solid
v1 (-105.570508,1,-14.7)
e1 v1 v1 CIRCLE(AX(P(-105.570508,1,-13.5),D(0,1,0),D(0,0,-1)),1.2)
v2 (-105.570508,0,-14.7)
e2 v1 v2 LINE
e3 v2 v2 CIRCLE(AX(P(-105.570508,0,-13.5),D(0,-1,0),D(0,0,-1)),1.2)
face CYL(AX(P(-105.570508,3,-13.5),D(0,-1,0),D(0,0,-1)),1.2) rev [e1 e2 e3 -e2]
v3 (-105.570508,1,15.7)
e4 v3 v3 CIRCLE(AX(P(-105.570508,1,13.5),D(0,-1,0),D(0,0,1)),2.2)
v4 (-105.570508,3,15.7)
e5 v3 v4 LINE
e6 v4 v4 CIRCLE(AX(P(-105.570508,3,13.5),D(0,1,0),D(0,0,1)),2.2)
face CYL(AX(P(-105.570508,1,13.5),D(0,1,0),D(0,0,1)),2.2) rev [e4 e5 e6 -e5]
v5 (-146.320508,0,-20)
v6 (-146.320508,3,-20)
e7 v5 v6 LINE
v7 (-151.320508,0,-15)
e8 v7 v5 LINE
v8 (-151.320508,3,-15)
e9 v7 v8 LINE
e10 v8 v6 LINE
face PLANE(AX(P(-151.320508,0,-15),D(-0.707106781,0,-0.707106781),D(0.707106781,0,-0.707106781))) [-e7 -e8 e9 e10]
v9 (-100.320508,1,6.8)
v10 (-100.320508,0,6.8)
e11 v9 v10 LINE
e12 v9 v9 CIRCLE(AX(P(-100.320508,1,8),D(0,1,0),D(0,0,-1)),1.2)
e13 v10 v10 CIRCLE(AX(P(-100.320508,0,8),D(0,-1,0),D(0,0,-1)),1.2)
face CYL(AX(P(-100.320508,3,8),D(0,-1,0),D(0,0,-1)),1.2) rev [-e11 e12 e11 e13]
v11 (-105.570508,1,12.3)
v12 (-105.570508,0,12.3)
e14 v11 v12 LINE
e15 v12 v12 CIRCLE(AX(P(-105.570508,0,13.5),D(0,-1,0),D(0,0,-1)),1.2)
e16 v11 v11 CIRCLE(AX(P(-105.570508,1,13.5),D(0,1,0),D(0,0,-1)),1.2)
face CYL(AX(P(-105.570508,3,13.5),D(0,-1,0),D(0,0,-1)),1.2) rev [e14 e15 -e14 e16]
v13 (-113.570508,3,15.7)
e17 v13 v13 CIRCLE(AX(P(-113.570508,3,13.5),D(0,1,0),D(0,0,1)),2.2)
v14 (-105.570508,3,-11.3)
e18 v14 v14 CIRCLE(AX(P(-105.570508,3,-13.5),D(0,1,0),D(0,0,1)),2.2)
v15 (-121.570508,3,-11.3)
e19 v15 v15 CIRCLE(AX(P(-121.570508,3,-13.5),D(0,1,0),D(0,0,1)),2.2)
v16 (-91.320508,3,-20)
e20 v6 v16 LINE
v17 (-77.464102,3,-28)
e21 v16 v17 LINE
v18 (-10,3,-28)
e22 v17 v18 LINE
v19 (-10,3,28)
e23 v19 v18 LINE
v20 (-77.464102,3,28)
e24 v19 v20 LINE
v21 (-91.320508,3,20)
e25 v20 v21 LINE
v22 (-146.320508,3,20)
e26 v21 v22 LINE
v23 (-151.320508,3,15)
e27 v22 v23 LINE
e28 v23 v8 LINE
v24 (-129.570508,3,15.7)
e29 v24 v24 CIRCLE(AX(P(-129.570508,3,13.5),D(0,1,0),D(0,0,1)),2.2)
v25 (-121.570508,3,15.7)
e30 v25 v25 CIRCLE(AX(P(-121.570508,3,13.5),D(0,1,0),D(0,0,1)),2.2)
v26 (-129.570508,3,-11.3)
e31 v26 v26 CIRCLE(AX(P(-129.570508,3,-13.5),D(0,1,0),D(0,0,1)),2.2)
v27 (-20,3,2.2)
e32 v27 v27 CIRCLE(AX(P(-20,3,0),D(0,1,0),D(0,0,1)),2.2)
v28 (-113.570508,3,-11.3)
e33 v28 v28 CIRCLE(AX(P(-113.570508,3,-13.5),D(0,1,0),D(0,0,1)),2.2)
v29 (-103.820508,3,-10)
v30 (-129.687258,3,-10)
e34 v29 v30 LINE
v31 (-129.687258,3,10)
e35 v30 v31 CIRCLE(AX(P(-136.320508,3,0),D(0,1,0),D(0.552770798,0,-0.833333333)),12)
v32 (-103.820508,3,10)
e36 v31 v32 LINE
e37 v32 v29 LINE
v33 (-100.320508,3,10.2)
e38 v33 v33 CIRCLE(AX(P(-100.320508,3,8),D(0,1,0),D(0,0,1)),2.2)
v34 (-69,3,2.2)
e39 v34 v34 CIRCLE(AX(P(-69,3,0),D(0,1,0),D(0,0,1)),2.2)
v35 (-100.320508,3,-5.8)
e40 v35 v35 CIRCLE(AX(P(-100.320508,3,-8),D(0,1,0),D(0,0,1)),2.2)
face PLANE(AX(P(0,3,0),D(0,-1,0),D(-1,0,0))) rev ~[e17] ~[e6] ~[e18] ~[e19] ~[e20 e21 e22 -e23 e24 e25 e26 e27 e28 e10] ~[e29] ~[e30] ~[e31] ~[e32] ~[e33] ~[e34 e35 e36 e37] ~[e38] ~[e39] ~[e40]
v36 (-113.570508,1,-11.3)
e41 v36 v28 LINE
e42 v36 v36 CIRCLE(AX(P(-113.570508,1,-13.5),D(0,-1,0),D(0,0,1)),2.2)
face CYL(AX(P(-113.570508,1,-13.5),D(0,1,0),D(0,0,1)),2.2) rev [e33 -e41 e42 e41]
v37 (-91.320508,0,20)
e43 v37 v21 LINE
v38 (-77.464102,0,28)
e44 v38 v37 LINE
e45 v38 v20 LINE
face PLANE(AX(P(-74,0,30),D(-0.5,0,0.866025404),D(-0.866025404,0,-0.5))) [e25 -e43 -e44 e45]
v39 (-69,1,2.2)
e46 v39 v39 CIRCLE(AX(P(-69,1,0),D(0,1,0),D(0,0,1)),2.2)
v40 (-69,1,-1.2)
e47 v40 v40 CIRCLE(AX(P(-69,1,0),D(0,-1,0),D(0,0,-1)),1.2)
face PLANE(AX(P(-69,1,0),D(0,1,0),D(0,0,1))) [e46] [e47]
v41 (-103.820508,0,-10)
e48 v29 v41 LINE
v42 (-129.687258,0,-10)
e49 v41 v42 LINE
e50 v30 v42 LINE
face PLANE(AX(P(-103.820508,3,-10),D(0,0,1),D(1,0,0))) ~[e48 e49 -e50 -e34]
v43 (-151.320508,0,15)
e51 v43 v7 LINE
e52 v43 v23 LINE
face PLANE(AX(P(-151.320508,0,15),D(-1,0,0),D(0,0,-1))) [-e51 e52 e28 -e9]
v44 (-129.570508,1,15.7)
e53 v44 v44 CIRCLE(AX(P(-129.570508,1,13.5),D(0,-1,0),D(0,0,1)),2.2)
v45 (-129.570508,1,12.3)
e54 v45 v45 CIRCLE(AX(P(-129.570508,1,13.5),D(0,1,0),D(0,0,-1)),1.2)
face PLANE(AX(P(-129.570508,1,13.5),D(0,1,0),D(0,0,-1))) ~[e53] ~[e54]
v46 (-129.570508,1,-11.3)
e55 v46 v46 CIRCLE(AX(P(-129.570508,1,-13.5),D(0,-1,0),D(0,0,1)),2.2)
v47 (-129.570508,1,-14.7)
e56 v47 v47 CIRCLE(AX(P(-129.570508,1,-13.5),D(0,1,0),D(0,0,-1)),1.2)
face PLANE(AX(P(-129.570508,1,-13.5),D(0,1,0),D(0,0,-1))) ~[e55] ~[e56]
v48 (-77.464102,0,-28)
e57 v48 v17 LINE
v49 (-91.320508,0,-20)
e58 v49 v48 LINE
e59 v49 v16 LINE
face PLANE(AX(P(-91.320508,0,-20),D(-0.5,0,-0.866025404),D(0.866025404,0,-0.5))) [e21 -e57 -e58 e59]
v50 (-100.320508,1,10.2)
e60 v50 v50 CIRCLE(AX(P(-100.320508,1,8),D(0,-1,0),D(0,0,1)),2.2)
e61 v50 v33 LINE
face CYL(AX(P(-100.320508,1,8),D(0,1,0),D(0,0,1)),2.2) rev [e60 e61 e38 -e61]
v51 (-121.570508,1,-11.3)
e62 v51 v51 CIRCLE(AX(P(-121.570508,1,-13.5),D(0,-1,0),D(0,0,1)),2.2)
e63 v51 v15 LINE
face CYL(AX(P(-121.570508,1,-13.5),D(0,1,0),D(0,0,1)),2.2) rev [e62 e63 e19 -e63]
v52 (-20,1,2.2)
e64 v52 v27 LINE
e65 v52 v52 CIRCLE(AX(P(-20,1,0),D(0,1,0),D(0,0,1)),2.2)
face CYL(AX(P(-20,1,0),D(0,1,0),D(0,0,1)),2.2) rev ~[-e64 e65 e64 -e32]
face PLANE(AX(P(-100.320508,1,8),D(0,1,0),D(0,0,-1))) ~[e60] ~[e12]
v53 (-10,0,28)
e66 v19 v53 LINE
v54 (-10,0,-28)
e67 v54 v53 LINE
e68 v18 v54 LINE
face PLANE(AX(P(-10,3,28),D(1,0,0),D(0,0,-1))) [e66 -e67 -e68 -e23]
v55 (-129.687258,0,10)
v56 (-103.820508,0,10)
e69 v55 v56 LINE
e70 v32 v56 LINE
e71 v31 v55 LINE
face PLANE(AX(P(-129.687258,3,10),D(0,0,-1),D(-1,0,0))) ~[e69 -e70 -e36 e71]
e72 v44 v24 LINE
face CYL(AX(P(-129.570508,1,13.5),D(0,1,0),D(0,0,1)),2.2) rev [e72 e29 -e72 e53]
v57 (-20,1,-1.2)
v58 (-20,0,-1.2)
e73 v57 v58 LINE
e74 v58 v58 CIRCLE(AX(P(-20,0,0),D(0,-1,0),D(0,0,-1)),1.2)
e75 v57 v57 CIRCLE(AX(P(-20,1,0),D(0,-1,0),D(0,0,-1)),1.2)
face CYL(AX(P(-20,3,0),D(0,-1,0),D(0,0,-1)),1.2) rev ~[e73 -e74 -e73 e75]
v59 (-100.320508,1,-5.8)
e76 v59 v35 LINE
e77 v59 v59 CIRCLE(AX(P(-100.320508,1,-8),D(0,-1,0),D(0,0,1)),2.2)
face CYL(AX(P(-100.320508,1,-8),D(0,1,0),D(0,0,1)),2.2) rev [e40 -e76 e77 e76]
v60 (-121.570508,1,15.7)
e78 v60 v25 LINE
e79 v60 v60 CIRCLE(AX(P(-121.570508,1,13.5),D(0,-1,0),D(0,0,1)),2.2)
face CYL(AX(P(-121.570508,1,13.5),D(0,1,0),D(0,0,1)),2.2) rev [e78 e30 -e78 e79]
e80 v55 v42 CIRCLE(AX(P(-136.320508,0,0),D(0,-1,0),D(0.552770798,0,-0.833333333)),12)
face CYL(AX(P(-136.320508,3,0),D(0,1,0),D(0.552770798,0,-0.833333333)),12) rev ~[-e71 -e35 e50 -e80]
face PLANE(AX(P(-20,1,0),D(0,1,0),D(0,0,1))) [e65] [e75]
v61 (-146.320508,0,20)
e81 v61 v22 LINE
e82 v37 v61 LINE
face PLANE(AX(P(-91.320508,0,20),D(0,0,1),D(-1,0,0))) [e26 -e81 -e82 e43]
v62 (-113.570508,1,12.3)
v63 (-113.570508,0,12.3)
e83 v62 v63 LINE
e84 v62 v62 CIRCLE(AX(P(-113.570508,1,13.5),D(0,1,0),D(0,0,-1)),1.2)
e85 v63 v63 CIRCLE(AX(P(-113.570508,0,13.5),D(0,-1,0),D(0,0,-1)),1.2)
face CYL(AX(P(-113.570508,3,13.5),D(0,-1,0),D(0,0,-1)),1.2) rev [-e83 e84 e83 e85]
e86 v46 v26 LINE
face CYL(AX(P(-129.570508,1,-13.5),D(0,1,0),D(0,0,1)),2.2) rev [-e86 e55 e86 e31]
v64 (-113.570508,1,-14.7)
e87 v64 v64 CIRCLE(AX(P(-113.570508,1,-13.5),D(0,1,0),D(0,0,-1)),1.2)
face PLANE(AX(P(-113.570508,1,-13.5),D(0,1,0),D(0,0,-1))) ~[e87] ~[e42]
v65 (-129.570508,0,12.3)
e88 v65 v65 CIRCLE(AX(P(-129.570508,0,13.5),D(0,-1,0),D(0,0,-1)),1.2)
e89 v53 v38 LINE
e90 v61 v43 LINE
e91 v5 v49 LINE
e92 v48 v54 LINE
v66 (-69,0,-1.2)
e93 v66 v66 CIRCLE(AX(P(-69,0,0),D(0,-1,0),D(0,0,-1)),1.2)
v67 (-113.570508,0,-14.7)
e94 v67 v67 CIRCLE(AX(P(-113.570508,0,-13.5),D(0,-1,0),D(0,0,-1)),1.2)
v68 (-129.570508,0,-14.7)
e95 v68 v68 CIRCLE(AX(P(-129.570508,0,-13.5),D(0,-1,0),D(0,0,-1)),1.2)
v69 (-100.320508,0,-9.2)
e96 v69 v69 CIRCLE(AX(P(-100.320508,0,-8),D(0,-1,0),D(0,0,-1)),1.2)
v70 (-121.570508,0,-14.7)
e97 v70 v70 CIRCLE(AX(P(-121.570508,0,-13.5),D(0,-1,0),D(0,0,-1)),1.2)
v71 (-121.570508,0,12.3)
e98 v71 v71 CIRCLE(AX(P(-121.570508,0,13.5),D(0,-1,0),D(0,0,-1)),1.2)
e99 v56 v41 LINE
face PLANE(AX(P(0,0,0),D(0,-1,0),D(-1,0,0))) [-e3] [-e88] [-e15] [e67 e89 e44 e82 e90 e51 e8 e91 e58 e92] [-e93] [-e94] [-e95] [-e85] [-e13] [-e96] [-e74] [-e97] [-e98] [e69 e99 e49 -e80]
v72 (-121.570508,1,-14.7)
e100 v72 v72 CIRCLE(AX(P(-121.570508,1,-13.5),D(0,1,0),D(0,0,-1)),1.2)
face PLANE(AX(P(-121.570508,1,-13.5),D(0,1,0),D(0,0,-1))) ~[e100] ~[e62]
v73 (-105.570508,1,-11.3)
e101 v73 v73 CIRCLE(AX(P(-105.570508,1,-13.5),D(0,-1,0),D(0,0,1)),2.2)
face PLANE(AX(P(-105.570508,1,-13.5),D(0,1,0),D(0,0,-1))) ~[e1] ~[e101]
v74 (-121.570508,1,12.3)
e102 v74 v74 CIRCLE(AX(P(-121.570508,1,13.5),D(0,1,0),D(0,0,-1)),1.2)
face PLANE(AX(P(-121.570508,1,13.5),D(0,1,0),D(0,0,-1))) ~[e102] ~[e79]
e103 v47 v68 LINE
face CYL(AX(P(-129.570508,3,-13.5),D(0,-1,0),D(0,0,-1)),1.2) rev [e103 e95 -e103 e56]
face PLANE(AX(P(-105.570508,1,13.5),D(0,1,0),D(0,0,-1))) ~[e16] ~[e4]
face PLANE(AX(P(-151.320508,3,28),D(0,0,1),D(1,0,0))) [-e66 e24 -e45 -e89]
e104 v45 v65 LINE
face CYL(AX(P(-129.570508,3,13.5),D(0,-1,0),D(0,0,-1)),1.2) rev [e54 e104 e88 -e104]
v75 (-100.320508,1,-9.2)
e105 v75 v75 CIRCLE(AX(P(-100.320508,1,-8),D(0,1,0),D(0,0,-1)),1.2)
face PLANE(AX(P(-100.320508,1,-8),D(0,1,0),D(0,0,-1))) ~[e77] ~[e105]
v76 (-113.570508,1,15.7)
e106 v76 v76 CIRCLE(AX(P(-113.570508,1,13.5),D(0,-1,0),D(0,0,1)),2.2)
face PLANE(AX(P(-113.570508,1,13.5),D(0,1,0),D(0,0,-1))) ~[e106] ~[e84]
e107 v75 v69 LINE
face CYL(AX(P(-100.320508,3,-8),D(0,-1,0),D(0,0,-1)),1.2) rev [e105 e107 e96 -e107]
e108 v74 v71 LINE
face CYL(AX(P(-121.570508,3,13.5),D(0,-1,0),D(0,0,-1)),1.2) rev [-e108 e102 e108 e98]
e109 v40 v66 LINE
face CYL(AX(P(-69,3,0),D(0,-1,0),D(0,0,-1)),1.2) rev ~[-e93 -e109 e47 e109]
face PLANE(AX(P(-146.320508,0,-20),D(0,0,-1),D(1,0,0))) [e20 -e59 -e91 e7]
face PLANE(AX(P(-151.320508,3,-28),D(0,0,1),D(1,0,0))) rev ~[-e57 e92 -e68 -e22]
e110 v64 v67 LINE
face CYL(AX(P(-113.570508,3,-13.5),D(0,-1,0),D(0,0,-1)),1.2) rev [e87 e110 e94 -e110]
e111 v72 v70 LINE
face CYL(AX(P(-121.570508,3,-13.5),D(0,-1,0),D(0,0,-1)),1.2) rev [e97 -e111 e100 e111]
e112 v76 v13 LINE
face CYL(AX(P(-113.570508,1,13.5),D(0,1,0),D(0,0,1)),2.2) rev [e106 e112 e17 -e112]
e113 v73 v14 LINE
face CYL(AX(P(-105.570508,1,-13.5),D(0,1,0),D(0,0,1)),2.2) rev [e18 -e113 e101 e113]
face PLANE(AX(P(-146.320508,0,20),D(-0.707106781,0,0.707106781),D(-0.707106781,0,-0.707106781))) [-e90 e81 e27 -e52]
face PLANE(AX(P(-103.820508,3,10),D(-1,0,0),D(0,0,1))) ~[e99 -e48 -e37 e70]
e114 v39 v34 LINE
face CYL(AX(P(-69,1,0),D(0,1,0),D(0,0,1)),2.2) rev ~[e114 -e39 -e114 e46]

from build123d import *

# Parameters (mm, degrees)
EXTRUDE_1_DEPTH              = 3
CUT_EXTRUDE_1_REACH          = 217.134
HOLE_WIZARD_M2_2_D           = 2.4
HOLE_WIZARD_M2_2_CBORE_D     = 4.4
HOLE_WIZARD_M2_2_CBORE_DEPTH = 2
CUT_EXTRUDE_2_REACH          = 217.134
HOLE_WIZARD_M2_3_D           = 2.4
HOLE_WIZARD_M2_3_CBORE_D     = 4.4
HOLE_WIZARD_M2_3_CBORE_DEPTH = 2
MIRROR_7_COPY_1_REACH        = 217.134
MIRROR_7_COPY_2_D            = 2.4
MIRROR_7_COPY_2_CBORE_D      = 4.4
MIRROR_7_COPY_2_CBORE_DEPTH  = 2
CUT_EXTRUDE_3_REACH          = 217.134
SKETCH_18_W                  = 20
SKETCH_18_H                  = 10
HOLE_WIZARD_M2_4_D           = 2.4
HOLE_WIZARD_M2_4_CBORE_D     = 4.4
HOLE_WIZARD_M2_4_CBORE_DEPTH = 2
HOLE_WIZARD_M2_5_D           = 2.4
HOLE_WIZARD_M2_5_CBORE_D     = 4.4
HOLE_WIZARD_M2_5_CBORE_DEPTH = 2
HOLE_WIZARD_M2_6_D           = 2.4
HOLE_WIZARD_M2_6_CBORE_D     = 4.4
HOLE_WIZARD_M2_6_CBORE_DEPTH = 2
SKETCH_24_W                  = 20
SKETCH_24_H                  = 56
CUT_EXTRUDE_4_DEPTH          = 10
HOLE_WIZARD_M2_7_D           = 2.4
HOLE_WIZARD_M2_7_CBORE_D     = 4.4
HOLE_WIZARD_M2_7_CBORE_DEPTH = 2
SKETCH_26_OUTSIDE_W          = 390.69
SKETCH_26_OUTSIDE_H          = 393.83
SKETCH_26_OUTSIDE_W_2        = 151.320508076
SKETCH_26_OUTSIDE_H_2        = 56
CUT_EXTRUDE_6_DEPTH          = 10


with BuildPart() as part:
    # 草图1 → 凸台-拉伸1 (new body)
    with BuildSketch(Plane(origin=(0, 0, 0), x_dir=(1, 0, 0), z_dir=(0, 1, 0))):
        Polygon((-45.715728753, 114), (45.715728753, 114), (84.606601718, 152.890872965), (91.67766953, 152.890872965), (112.890872965, 131.67766953), (112.890872965, 124.606601718), (74, 85.715728753), (74, 30), (91.320508076, 20), (146.320508076, 20), (151.320508076, 15), (151.320508076, -15), (146.320508076, -20), (91.320508076, -20), (74, -30), (74, -85.715728753), (112.890872965, -124.606601718), (112.890872965, -131.67766953), (91.67766953, -152.890872965), (84.606601718, -152.890872965), (45.715728753, -114), (-45.715728753, -114), (-84.606601718, -152.890872965), (-91.67766953, -152.890872965), (-112.890872965, -131.67766953), (-112.890872965, -124.606601718), (-74, -85.715728753), (-74, -30), (-91.320508076, -20), (-146.320508076, -20), (-151.320508076, -15), (-151.320508076, 15), (-146.320508076, 20), (-91.320508076, 20), (-74, 30), (-74, 85.715728753), (-112.890872965, 124.606601718), (-112.890872965, 131.67766953), (-91.67766953, 152.890872965), (-84.606601718, 152.890872965), align=None)
    extrude(amount=EXTRUDE_1_DEPTH)

    # 草图2 → 切除-拉伸1 (cut, up to next)
    with BuildSketch(Plane(origin=(0, 3, 0), x_dir=(1, 0, 0), z_dir=(0, 1, 0)), mode=Mode.PRIVATE) as cut_extrude_1_sk1:
        with BuildLine():
            Line((103.820508076, -10), (103.820508076, 10))
            Line((103.820508076, 10), (129.687258495, 10))
            ThreePointArc((129.687258495, 10), (148.320508076, 0), (129.687258495, -10))
            Line((129.687258495, -10), (103.820508076, -10))
        make_face()
    cut_extrude_1_tool1 = extrude(cut_extrude_1_sk1.sketch, amount=-CUT_EXTRUDE_1_REACH, mode=Mode.PRIVATE) & part.part
    cut_extrude_1 = cut_extrude_1_tool1.solids().sort_by_distance((125.74589, 3, 0))[0]
    add(cut_extrude_1, mode=Mode.SUBTRACT)

    # M2 凹头盖螺钉的柱形沉头孔2 (through all)
    with Locations(Plane(origin=(100.320508076, 3, -8), x_dir=(0, 0, 1), z_dir=(0, 1, 0))):
        with Locations((0, 0), (-5.5, 5.25), (-5.5, 13.25), (-5.5, 21.25), (-5.5, 29.25), (16, 0), (21.5, 5.25), (21.5, 13.25), (21.5, 21.25), (21.5, 29.25)):
            hole_wizard_m2_2 = CounterBoreHole(HOLE_WIZARD_M2_2_D / 2, HOLE_WIZARD_M2_2_CBORE_D / 2, HOLE_WIZARD_M2_2_CBORE_DEPTH)

    # 草图10 → 切除-拉伸2 (cut, up to next)
    with BuildSketch(Plane(origin=(0, 3, 0), x_dir=(1, 0, 0), z_dir=(0, 1, 0)), mode=Mode.PRIVATE) as cut_extrude_2_sk1:
        with BuildLine():
            Line((75.767766953, 101.625631329), (61.625631329, 115.767766953))
            Line((61.625631329, 115.767766953), (79.916185958, 134.058321582))
            ThreePointArc((79.916185958, 134.058321582), (100.162950904, 140.162950904), (94.058321582, 119.916185958))
            Line((94.058321582, 119.916185958), (75.767766953, 101.625631329))
        make_face()
    cut_extrude_2_tool1 = extrude(cut_extrude_2_sk1.sketch, amount=-CUT_EXTRUDE_2_REACH, mode=Mode.PRIVATE) & part.part
    cut_extrude_2 = cut_extrude_2_tool1.solids().sort_by_distance((84.200285, 3, -124.200285))[0]
    add(cut_extrude_2, mode=Mode.SUBTRACT)

    # M2 凹头盖螺钉的柱形沉头孔3 (through all)
    with Locations(Plane(origin=(60.388194462, 3, -119.480077554), x_dir=(0, 0, 1), z_dir=(0, 1, 0))):
        with Locations((0, 0), (-5.65685425, 5.65685425), (-11.313708499, 11.313708499), (-16.970562749, 16.970562749), (7.601397898, 0.176776695), (18.915106397, 11.490485194), (19.091883092, 19.091883092), (13.435028842, 24.748737342), (7.778174593, 30.405591591), (2.121320343, 36.062445841)):
            hole_wizard_m2_3 = CounterBoreHole(HOLE_WIZARD_M2_3_D / 2, HOLE_WIZARD_M2_3_CBORE_D / 2, HOLE_WIZARD_M2_3_CBORE_DEPTH)

    # 镜向5: 切除-拉伸1, M2 凹头盖螺钉的柱形沉头孔2 across plane
    add(cut_extrude_1.mirror(Plane(origin=(0, 0, 0), x_dir=(0, 0, 1), z_dir=(1, 0, 0))), mode=Mode.SUBTRACT)
    add(hole_wizard_m2_2.mirror(Plane(origin=(0, 0, 0), x_dir=(0, 0, 1), z_dir=(1, 0, 0))), mode=Mode.SUBTRACT)

    # 镜向6: 切除-拉伸2, M2 凹头盖螺钉的柱形沉头孔3 across plane
    add(cut_extrude_2.mirror(Plane(origin=(0, 0, 0), x_dir=(0, 0, 1), z_dir=(1, 0, 0))), mode=Mode.SUBTRACT)
    add(hole_wizard_m2_3.mirror(Plane(origin=(0, 0, 0), x_dir=(0, 0, 1), z_dir=(1, 0, 0))), mode=Mode.SUBTRACT)

    # 镜向7: 切除-拉伸2, M2 凹头盖螺钉的柱形沉头孔3 across plane
    add(cut_extrude_2.mirror(Plane.XY), mode=Mode.SUBTRACT)
    add(hole_wizard_m2_3.mirror(Plane.XY), mode=Mode.SUBTRACT)

    # 镜向7 copy 1 sketch → 镜向7 copy 1 (cut, up to next)
    with BuildSketch(Plane(origin=(0, 3, 0), x_dir=(-1, 0, 0), z_dir=(0, 1, 0)), mode=Mode.PRIVATE) as mirror_7_copy_1_sk1:
        with BuildLine():
            Line((75.767766953, 101.625631329), (61.625631329, 115.767766953))
            Line((61.625631329, 115.767766953), (79.916185958, 134.058321582))
            ThreePointArc((79.916185958, 134.058321582), (100.162950904, 140.162950904), (94.058321582, 119.916185958))
            Line((94.058321582, 119.916185958), (75.767766953, 101.625631329))
        make_face()
    mirror_7_copy_1_tool1 = extrude(mirror_7_copy_1_sk1.sketch, amount=-MIRROR_7_COPY_1_REACH, mode=Mode.PRIVATE) & part.part
    add(mirror_7_copy_1_tool1.solids().sort_by_distance((-84.200285, 3, 124.200285))[0], mode=Mode.SUBTRACT)

    # 镜向7 copy 2 (through all)
    with Locations(Plane(origin=(-60.388194462, 3, 119.480077554), x_dir=(0, 0, -1), z_dir=(0, 1, 0))):
        with Locations((0, 0), (-5.65685425, 5.65685425), (-11.313708499, 11.313708499), (-16.970562749, 16.970562749), (7.601397898, 0.176776695), (18.915106397, 11.490485194), (19.091883092, 19.091883092), (13.435028842, 24.748737342), (7.778174593, 30.405591591), (2.121320343, 36.062445841)):
            CounterBoreHole(MIRROR_7_COPY_2_D / 2, MIRROR_7_COPY_2_CBORE_D / 2, MIRROR_7_COPY_2_CBORE_DEPTH)

    # 草图18 → 切除-拉伸3 (cut, up to next)
    with BuildSketch(Plane(origin=(0, 3, 0), x_dir=(1, 0, 0), z_dir=(0, 1, 0)), mode=Mode.PRIVATE) as cut_extrude_3_sk1:
        Polygon((-60, -28), (-15, -28), (-15, -63), (-60, -83), align=None)
    cut_extrude_3_tool1 = extrude(cut_extrude_3_sk1.sketch, amount=-CUT_EXTRUDE_3_REACH, mode=Mode.PRIVATE) & part.part
    # 草图18 → 切除-拉伸3 (cut, up to next)
    with BuildSketch(Plane(origin=(0, 3, 0), x_dir=(1, 0, 0), z_dir=(0, 1, 0)), mode=Mode.PRIVATE) as cut_extrude_3_sk2:
        with Locations((20, -99)):
            Rectangle(SKETCH_18_W, SKETCH_18_H)
    cut_extrude_3_tool2 = extrude(cut_extrude_3_sk2.sketch, amount=-CUT_EXTRUDE_3_REACH, mode=Mode.PRIVATE) & part.part
    # 草图18 → 切除-拉伸3 (cut, up to next)
    with BuildSketch(Plane(origin=(0, 3, 0), x_dir=(1, 0, 0), z_dir=(0, 1, 0)), mode=Mode.PRIVATE) as cut_extrude_3_sk3:
        with Locations((-20, -99)):
            Rectangle(SKETCH_18_W, SKETCH_18_H)
    cut_extrude_3_tool3 = extrude(cut_extrude_3_sk3.sketch, amount=-CUT_EXTRUDE_3_REACH, mode=Mode.PRIVATE) & part.part
    # 草图18 → 切除-拉伸3 (cut, up to next)
    with BuildSketch(Plane(origin=(0, 3, 0), x_dir=(1, 0, 0), z_dir=(0, 1, 0)), mode=Mode.PRIVATE) as cut_extrude_3_sk4:
        Polygon((15, -63), (60, -83), (60, -28), (15, -28), align=None)
    cut_extrude_3_tool4 = extrude(cut_extrude_3_sk4.sketch, amount=-CUT_EXTRUDE_3_REACH, mode=Mode.PRIVATE) & part.part
    # 草图18 → 切除-拉伸3 (cut, up to next)
    with BuildSketch(Plane(origin=(0, 3, 0), x_dir=(1, 0, 0), z_dir=(0, 1, 0)), mode=Mode.PRIVATE) as cut_extrude_3_sk5:
        with Locations((-20, 99)):
            Rectangle(SKETCH_18_W, SKETCH_18_H)
    cut_extrude_3_tool5 = extrude(cut_extrude_3_sk5.sketch, amount=-CUT_EXTRUDE_3_REACH, mode=Mode.PRIVATE) & part.part
    # 草图18 → 切除-拉伸3 (cut, up to next)
    with BuildSketch(Plane(origin=(0, 3, 0), x_dir=(1, 0, 0), z_dir=(0, 1, 0)), mode=Mode.PRIVATE) as cut_extrude_3_sk6:
        with Locations((20, 99)):
            Rectangle(SKETCH_18_W, SKETCH_18_H)
    cut_extrude_3_tool6 = extrude(cut_extrude_3_sk6.sketch, amount=-CUT_EXTRUDE_3_REACH, mode=Mode.PRIVATE) & part.part
    # 草图18 → 切除-拉伸3 (cut, up to next)
    with BuildSketch(Plane(origin=(0, 3, 0), x_dir=(1, 0, 0), z_dir=(0, 1, 0)), mode=Mode.PRIVATE) as cut_extrude_3_sk7:
        Polygon((15, 63), (60, 83), (60, 28), (15, 28), align=None)
    cut_extrude_3_tool7 = extrude(cut_extrude_3_sk7.sketch, amount=-CUT_EXTRUDE_3_REACH, mode=Mode.PRIVATE) & part.part
    # 草图18 → 切除-拉伸3 (cut, up to next)
    with BuildSketch(Plane(origin=(0, 3, 0), x_dir=(1, 0, 0), z_dir=(0, 1, 0)), mode=Mode.PRIVATE) as cut_extrude_3_sk8:
        Polygon((-15, 28), (-15, 63), (-60, 83), (-60, 28), align=None)
    cut_extrude_3_tool8 = extrude(cut_extrude_3_sk8.sketch, amount=-CUT_EXTRUDE_3_REACH, mode=Mode.PRIVATE) & part.part
    add(cut_extrude_3_tool1.solids().sort_by_distance((-39.166667, 3, 50.87037))[0], mode=Mode.SUBTRACT)
    add(cut_extrude_3_tool2.solids().sort_by_distance((20, 3, 99))[0], mode=Mode.SUBTRACT)
    add(cut_extrude_3_tool3.solids().sort_by_distance((-20, 3, 99))[0], mode=Mode.SUBTRACT)
    add(cut_extrude_3_tool4.solids().sort_by_distance((39.166667, 3, 50.87037))[0], mode=Mode.SUBTRACT)
    add(cut_extrude_3_tool5.solids().sort_by_distance((-20, 3, -99))[0], mode=Mode.SUBTRACT)
    add(cut_extrude_3_tool6.solids().sort_by_distance((20, 3, -99))[0], mode=Mode.SUBTRACT)
    add(cut_extrude_3_tool7.solids().sort_by_distance((39.166667, 3, -50.87037))[0], mode=Mode.SUBTRACT)
    add(cut_extrude_3_tool8.solids().sort_by_distance((-39.166667, 3, -50.87037))[0], mode=Mode.SUBTRACT)

    # M2 凹头盖螺钉的柱形沉头孔4 (through all)
    with Locations(Plane(origin=(-20, 3, 109), x_dir=(0, 0, 1), z_dir=(0, 1, 0))):
        with Locations((0, 0), (0, 40), (-218, 0), (-218, 40)):
            CounterBoreHole(HOLE_WIZARD_M2_4_D / 2, HOLE_WIZARD_M2_4_CBORE_D / 2, HOLE_WIZARD_M2_4_CBORE_DEPTH)

    # M2 凹头盖螺钉的柱形沉头孔5 (through all)
    with Locations(Plane(origin=(-69, 3, -40), x_dir=(0, 0, 1), z_dir=(0, 1, 0))):
        with Locations((0, 0), (0, 138)):
            hole_wizard_m2_5 = CounterBoreHole(HOLE_WIZARD_M2_5_D / 2, HOLE_WIZARD_M2_5_CBORE_D / 2, HOLE_WIZARD_M2_5_CBORE_DEPTH)

    # 镜向8: M2 凹头盖螺钉的柱形沉头孔5 across plane
    add(hole_wizard_m2_5.mirror(Plane.XY), mode=Mode.SUBTRACT)

    # M2 凹头盖螺钉的柱形沉头孔6 (through all)
    with Locations(Plane(origin=(-69, 3, 0), x_dir=(0, 0, 1), z_dir=(0, 1, 0))):
        with Locations((0, 0), (0, 138)):
            CounterBoreHole(HOLE_WIZARD_M2_6_D / 2, HOLE_WIZARD_M2_6_CBORE_D / 2, HOLE_WIZARD_M2_6_CBORE_DEPTH)

    # 草图24 → 切除-拉伸4 (cut)
    with BuildSketch(Plane(origin=(0, 3, 0), x_dir=(1, 0, 0), z_dir=(0, 1, 0))):
        Rectangle(SKETCH_24_W, SKETCH_24_H)
    extrude(amount=-CUT_EXTRUDE_4_DEPTH, mode=Mode.SUBTRACT)

    # M2 凹头盖螺钉的柱形沉头孔7 (through all)
    with Locations(Plane(origin=(-20, 3, 0), x_dir=(0, 0, 1), z_dir=(0, 1, 0))):
        with Locations((0, 0), (0, 40)):
            CounterBoreHole(HOLE_WIZARD_M2_7_D / 2, HOLE_WIZARD_M2_7_CBORE_D / 2, HOLE_WIZARD_M2_7_CBORE_DEPTH)

    # 草图26 outside → 切除-拉伸6 (cut)
    with BuildSketch(Plane(origin=(0, 3, 0), x_dir=(1, 0, 0), z_dir=(0, 1, 0))):
        Rectangle(SKETCH_26_OUTSIDE_W, SKETCH_26_OUTSIDE_H)
        with Locations((-75.660254038, 0)):
            Rectangle(SKETCH_26_OUTSIDE_W_2, SKETCH_26_OUTSIDE_H_2, mode=Mode.SUBTRACT)
    extrude(amount=-CUT_EXTRUDE_6_DEPTH, mode=Mode.SUBTRACT)


solid = part.part
